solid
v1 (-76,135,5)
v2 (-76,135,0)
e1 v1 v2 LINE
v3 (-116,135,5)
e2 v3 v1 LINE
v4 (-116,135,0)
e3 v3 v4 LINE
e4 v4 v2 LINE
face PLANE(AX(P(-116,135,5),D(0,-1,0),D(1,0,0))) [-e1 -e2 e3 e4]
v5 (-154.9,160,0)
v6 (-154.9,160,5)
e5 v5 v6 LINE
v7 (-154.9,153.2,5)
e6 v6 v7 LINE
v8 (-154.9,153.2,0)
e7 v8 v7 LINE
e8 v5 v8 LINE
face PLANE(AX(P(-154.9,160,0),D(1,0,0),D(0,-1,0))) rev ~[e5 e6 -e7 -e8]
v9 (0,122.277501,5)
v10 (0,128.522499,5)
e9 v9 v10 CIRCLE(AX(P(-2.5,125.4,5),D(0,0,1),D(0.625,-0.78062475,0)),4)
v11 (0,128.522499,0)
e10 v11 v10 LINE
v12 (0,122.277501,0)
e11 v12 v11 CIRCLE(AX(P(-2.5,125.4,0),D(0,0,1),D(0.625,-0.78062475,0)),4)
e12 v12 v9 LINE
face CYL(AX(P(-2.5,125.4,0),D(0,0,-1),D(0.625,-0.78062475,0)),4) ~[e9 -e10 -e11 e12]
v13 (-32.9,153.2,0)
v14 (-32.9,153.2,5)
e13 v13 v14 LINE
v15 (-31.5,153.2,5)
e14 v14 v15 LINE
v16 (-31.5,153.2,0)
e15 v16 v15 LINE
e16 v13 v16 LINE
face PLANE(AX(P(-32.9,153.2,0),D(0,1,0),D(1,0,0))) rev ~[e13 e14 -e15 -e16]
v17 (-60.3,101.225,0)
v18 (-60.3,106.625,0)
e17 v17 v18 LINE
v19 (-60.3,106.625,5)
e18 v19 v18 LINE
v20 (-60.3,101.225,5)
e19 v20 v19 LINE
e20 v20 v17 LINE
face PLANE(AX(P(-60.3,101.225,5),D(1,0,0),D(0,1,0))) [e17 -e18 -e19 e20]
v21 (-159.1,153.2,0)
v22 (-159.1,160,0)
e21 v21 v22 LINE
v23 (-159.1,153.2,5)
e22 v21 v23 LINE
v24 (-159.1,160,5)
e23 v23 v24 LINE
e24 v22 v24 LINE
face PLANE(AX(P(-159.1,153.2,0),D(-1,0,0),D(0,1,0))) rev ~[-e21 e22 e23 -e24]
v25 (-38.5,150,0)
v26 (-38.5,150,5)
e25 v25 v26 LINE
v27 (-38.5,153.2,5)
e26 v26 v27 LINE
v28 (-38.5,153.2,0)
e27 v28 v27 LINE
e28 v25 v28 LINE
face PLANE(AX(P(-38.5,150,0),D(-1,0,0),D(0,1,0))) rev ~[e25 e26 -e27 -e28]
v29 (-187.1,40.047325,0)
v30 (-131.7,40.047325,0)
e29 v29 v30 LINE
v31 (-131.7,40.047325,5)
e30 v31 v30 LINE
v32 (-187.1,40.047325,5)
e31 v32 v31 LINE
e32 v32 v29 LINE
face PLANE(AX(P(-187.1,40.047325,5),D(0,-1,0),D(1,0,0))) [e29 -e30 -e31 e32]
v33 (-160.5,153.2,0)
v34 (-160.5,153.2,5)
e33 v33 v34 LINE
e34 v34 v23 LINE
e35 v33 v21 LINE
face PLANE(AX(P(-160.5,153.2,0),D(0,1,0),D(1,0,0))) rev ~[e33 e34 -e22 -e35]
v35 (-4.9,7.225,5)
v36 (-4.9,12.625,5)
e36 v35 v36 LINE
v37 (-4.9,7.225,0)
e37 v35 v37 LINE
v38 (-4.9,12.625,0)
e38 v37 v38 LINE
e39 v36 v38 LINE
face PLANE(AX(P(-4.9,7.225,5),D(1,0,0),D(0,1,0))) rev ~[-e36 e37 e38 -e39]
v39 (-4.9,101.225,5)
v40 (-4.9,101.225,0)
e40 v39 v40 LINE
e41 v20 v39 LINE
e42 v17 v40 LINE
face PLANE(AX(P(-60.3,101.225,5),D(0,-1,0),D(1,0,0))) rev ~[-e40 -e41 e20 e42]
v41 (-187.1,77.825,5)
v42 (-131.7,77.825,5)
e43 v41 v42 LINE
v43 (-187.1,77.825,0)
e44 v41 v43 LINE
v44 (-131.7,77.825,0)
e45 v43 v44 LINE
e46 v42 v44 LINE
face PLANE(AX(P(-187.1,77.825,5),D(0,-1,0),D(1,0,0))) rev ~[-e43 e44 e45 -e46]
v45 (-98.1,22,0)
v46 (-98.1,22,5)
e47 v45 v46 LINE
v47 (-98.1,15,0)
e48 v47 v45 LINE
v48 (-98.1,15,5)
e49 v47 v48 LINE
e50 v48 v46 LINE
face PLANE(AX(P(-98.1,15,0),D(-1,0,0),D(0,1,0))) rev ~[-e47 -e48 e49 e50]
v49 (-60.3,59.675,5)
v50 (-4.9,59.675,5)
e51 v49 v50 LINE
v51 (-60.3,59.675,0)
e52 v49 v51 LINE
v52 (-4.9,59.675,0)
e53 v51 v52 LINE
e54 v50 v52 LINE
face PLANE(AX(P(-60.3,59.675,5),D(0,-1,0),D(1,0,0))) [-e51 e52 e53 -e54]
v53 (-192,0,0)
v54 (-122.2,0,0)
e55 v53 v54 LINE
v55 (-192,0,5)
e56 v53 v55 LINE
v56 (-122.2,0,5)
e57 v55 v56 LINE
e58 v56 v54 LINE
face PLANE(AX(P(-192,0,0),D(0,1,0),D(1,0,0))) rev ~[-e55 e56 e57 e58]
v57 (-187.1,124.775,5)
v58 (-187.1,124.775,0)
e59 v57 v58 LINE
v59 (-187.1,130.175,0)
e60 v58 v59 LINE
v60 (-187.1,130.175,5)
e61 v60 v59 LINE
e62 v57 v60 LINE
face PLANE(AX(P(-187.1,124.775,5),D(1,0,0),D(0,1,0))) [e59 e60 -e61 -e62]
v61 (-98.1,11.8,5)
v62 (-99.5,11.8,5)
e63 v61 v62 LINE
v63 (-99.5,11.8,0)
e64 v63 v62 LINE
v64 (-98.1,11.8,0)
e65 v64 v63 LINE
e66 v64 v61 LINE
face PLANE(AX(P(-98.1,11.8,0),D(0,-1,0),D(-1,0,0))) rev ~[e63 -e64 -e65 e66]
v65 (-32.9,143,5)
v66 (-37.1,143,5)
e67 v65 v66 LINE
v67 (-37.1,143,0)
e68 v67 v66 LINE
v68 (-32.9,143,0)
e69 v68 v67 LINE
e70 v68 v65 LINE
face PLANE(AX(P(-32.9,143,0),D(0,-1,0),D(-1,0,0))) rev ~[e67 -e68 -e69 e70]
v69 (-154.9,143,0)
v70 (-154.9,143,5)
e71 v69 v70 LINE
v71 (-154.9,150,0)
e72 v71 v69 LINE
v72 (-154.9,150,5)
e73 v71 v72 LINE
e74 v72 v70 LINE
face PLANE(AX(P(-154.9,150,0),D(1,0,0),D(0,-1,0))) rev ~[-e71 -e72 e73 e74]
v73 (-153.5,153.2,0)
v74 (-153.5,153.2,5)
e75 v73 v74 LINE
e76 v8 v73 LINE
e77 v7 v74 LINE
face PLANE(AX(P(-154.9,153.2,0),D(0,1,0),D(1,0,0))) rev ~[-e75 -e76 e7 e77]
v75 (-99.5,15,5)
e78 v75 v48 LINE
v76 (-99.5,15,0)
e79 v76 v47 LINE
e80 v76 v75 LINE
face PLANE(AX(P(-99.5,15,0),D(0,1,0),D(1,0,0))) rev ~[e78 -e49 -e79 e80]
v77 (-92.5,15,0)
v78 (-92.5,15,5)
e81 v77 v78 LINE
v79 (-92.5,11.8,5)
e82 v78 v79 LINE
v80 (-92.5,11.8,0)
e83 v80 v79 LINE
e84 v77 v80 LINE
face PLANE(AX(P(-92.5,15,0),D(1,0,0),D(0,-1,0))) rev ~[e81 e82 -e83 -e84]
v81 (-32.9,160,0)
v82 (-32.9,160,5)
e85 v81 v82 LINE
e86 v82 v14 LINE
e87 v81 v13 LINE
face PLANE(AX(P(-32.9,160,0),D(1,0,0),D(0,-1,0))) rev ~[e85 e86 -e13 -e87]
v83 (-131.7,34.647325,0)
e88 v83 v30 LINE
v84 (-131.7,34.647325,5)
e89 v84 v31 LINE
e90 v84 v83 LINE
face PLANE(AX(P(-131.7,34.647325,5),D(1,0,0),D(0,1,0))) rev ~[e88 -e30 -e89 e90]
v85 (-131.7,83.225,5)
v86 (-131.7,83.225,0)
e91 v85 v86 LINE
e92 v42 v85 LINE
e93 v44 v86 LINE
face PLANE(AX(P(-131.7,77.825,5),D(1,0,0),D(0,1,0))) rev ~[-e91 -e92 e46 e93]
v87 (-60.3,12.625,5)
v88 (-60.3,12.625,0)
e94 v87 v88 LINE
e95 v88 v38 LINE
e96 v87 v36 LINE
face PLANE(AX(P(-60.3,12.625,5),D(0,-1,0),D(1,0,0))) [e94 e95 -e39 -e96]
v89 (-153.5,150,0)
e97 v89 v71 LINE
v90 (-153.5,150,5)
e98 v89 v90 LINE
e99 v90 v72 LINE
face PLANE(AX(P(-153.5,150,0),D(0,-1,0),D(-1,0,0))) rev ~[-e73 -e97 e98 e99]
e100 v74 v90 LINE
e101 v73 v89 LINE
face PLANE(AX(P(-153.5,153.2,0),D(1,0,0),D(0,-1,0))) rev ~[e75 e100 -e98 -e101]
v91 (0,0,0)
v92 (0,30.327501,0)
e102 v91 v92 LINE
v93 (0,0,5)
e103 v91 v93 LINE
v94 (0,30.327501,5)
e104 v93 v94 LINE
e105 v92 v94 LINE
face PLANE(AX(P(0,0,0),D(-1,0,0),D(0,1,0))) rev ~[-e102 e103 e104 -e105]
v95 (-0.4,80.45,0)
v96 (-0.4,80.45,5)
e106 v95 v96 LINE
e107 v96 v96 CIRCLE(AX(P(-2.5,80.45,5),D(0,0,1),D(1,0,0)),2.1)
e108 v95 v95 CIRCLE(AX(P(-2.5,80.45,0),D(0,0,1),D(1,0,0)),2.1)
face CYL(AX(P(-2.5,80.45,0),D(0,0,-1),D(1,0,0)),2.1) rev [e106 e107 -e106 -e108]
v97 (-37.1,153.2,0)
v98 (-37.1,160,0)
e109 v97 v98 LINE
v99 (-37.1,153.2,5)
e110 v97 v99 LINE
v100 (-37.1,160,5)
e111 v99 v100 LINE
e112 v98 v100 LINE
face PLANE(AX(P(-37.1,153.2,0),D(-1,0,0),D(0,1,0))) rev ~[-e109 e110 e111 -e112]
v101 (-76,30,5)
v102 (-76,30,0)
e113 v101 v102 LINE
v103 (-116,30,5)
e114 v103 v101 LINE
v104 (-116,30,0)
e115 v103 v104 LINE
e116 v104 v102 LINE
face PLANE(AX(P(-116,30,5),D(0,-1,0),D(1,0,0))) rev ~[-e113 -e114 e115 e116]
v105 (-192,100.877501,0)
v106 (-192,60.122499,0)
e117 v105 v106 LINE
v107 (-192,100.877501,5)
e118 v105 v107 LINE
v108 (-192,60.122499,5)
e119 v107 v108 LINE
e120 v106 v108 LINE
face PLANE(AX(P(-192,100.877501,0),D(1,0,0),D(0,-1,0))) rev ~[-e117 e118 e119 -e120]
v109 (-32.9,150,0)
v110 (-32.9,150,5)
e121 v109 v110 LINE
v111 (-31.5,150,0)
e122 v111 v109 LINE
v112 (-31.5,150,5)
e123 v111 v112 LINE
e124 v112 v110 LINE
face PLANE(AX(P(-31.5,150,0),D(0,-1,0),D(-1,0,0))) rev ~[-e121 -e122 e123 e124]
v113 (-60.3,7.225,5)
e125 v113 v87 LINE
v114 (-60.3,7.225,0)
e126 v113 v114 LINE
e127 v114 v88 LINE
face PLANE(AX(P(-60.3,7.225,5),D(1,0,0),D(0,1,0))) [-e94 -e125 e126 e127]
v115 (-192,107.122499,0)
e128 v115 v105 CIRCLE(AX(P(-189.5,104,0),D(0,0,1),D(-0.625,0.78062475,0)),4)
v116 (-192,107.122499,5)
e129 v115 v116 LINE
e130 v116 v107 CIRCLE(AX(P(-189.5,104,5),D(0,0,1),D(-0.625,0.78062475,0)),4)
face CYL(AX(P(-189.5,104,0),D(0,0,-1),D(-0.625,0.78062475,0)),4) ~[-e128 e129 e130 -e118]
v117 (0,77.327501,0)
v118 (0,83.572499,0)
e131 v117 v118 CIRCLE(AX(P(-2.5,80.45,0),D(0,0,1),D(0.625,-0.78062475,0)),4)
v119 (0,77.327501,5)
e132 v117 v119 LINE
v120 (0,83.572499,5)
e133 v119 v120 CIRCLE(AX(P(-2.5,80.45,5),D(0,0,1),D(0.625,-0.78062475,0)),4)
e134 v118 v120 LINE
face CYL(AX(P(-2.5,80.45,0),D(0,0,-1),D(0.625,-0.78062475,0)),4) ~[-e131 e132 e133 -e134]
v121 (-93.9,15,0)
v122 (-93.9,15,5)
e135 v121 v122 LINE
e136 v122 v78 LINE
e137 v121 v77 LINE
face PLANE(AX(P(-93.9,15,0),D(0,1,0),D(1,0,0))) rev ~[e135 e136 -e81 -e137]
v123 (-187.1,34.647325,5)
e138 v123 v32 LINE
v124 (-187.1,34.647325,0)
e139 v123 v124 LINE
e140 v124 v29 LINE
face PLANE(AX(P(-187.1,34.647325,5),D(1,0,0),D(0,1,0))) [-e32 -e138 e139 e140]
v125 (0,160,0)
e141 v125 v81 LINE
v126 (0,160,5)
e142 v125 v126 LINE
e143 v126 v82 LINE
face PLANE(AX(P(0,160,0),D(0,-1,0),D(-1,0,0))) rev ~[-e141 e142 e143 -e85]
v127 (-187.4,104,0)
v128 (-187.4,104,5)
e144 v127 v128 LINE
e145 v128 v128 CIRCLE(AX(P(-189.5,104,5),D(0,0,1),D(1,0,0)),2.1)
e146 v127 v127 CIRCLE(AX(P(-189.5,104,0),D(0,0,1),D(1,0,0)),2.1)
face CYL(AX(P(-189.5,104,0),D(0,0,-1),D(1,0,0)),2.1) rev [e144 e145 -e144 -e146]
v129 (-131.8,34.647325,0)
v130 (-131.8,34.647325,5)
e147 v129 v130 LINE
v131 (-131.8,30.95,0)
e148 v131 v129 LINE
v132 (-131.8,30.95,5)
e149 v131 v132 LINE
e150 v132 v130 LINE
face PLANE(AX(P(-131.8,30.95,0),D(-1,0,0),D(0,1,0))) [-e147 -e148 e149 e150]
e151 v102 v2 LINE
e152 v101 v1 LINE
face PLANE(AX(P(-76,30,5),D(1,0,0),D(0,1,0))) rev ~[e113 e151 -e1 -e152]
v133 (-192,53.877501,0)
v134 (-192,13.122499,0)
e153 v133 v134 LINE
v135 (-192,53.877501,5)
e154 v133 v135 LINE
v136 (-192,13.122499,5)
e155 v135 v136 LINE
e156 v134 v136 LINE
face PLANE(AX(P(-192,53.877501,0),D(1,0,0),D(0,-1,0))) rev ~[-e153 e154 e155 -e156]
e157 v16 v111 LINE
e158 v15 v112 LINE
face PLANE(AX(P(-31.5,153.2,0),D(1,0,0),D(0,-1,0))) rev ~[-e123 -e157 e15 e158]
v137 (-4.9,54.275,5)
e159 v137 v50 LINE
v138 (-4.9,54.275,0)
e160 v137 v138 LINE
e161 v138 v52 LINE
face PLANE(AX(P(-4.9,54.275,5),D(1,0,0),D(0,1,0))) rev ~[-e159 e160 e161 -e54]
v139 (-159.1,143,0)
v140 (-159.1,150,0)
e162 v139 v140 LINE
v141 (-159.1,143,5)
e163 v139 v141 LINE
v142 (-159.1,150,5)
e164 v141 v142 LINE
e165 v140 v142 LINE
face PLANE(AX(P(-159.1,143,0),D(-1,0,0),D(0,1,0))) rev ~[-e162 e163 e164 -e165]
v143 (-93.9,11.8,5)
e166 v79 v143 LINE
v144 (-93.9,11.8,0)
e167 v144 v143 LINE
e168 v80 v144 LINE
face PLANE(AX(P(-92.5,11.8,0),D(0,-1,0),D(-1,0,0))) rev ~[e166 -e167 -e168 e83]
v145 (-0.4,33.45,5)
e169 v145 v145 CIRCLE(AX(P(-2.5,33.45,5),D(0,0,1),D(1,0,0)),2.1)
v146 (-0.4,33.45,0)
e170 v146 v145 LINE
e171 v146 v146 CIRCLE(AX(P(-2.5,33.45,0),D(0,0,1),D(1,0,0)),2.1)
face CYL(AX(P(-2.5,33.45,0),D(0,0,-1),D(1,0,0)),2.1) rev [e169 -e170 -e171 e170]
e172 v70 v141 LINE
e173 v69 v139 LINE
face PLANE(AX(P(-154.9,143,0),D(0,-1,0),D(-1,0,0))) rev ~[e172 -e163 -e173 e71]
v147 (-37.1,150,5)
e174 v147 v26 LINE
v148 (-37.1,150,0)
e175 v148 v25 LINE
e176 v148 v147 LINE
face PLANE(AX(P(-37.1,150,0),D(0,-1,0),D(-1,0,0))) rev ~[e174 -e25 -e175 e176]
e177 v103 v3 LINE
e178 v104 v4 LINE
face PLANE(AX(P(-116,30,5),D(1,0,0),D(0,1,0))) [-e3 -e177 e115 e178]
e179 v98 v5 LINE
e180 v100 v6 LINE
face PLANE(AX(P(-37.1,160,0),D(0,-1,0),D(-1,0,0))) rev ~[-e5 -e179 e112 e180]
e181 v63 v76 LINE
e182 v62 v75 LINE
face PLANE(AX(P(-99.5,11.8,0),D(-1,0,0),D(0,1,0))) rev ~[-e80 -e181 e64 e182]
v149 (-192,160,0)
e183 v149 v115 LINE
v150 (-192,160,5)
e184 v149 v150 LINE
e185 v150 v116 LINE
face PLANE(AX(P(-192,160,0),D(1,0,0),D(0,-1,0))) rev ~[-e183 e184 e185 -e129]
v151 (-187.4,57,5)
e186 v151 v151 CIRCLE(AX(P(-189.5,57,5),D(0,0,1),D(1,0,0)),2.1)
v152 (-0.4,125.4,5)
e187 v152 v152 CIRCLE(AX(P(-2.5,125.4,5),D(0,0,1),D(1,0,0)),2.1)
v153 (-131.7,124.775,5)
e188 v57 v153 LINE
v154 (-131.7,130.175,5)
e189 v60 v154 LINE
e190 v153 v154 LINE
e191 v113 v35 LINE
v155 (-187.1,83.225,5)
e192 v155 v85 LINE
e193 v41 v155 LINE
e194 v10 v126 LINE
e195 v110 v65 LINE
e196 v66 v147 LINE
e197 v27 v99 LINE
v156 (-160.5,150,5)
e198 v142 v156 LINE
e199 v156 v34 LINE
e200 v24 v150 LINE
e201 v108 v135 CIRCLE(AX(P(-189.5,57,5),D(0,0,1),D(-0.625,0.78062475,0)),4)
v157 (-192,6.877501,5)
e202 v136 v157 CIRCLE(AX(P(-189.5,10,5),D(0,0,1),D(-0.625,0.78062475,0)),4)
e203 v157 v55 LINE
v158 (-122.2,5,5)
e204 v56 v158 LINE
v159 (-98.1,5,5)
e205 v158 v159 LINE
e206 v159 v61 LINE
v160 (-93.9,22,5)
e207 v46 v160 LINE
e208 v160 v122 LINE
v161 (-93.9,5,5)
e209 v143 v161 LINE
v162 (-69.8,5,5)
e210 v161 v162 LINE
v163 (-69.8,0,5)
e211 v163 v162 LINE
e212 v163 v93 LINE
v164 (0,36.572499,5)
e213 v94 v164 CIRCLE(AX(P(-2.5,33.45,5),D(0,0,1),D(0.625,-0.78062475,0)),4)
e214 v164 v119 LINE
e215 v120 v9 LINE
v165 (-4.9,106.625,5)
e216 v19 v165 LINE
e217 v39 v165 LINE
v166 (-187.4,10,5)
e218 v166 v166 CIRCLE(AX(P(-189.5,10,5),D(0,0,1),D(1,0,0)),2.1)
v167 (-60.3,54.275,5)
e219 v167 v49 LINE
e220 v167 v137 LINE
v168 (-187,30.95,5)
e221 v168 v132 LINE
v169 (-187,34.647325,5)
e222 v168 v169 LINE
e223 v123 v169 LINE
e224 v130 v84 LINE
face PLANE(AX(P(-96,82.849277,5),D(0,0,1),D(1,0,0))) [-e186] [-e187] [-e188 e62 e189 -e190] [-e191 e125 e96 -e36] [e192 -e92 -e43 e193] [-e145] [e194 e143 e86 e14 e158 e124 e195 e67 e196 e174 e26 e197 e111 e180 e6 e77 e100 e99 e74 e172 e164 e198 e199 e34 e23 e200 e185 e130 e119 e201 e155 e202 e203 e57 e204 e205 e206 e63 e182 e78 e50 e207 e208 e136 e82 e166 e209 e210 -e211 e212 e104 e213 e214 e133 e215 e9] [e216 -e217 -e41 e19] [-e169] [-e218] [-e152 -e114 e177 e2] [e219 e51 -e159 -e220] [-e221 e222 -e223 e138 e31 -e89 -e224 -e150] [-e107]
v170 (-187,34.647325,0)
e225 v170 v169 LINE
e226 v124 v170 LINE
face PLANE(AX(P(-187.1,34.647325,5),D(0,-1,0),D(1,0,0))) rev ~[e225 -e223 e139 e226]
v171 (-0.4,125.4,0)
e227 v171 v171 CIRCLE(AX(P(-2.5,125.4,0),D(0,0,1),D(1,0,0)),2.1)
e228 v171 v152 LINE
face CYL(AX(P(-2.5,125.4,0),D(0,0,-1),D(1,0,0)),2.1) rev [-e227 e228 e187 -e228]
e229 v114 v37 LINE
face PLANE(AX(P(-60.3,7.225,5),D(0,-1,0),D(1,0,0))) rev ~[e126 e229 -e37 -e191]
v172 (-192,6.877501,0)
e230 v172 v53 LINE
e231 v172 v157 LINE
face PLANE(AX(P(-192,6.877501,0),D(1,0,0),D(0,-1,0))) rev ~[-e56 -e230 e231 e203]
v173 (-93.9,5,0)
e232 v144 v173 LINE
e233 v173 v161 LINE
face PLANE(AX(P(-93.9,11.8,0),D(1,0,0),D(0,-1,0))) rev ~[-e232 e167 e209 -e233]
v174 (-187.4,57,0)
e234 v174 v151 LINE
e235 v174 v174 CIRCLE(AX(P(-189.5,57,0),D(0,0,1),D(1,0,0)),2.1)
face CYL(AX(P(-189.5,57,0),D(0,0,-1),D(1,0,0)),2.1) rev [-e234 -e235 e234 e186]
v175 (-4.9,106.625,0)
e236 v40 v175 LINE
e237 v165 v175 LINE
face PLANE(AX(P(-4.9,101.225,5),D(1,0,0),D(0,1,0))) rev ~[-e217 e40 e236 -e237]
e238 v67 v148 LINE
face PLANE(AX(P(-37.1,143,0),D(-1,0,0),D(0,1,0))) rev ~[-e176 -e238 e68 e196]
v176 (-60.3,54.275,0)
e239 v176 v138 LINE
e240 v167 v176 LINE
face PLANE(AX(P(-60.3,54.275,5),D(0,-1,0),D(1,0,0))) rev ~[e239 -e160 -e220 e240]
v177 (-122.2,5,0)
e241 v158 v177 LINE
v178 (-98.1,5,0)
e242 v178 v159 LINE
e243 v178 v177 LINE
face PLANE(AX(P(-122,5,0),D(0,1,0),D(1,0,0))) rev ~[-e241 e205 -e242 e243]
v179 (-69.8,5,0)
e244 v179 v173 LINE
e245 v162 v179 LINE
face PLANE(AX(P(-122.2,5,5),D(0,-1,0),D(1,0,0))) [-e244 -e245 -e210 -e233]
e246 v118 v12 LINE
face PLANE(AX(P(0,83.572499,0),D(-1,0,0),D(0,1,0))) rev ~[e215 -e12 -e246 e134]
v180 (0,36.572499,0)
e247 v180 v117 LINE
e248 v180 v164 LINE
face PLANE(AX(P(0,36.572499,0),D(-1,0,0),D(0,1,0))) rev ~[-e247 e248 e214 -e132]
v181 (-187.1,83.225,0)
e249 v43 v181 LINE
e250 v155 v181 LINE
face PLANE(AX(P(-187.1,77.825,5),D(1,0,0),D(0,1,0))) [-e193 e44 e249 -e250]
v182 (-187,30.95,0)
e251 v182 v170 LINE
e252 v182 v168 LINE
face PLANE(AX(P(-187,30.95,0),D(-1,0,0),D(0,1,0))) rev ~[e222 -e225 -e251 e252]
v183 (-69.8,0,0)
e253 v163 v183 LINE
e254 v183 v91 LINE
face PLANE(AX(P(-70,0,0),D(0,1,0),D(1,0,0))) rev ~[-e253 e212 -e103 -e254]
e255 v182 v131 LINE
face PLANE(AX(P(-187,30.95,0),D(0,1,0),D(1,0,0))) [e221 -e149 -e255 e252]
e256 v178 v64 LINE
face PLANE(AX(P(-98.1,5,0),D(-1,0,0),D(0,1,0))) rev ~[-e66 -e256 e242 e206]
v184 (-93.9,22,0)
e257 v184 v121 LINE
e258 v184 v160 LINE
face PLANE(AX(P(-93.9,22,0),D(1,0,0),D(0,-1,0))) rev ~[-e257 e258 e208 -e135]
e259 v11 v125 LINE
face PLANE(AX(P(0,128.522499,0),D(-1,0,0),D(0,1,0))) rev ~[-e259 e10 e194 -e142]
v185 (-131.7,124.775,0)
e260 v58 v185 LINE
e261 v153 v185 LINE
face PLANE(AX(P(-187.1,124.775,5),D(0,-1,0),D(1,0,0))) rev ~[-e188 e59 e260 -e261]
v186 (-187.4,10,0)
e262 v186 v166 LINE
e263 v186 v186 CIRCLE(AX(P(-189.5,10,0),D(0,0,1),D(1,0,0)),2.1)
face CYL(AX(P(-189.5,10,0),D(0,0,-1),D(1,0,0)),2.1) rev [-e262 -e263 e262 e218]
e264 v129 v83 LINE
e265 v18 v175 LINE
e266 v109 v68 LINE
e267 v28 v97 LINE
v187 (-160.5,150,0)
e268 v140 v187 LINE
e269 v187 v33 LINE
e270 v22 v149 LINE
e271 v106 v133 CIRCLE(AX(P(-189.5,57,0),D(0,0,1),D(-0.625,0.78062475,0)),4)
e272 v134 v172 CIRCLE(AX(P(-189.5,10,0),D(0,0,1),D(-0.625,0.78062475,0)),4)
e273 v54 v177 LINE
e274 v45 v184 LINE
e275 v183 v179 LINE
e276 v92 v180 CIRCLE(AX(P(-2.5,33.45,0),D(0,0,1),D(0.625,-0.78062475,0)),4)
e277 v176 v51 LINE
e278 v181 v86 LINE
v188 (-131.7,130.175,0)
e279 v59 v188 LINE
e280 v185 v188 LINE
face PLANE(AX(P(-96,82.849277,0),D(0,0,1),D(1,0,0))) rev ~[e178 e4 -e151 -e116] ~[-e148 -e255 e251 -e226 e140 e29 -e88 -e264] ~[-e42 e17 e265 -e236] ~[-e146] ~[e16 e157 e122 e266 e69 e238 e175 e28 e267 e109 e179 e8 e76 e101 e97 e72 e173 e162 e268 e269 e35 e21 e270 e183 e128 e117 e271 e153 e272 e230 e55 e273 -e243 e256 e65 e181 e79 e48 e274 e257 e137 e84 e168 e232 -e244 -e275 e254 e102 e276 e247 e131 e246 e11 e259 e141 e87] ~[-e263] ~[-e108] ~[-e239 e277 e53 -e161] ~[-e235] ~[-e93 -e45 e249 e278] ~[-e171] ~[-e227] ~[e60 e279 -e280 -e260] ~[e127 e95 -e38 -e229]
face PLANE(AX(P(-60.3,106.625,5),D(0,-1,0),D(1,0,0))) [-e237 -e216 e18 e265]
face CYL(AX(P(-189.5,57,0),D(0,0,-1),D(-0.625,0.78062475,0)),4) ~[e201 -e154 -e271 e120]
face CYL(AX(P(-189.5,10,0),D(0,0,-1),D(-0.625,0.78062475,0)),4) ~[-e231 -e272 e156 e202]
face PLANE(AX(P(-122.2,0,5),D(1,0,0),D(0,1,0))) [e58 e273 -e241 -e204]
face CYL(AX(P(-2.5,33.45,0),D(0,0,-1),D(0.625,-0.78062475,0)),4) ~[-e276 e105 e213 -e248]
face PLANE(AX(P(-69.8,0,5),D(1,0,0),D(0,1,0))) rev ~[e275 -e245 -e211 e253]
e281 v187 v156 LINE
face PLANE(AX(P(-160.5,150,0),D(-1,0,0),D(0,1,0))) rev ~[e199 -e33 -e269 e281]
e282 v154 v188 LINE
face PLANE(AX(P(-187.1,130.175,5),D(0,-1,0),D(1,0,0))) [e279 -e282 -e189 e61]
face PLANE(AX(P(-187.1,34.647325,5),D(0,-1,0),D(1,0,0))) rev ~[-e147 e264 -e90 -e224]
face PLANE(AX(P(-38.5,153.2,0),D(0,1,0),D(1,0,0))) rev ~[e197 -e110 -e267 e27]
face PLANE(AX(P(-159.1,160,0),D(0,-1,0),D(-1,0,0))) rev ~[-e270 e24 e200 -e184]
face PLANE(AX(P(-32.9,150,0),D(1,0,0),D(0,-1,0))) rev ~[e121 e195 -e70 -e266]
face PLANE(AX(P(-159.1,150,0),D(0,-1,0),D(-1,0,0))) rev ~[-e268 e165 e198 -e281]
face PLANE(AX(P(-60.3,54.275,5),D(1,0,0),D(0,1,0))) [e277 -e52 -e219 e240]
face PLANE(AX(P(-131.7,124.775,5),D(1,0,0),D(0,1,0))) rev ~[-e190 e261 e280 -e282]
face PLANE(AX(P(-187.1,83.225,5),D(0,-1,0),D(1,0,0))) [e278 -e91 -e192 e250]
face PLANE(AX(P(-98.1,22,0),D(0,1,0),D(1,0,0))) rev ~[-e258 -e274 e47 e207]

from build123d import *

# Parameters (mm, degrees)
SKETCH1_R           = 2.1
SKETCH1_W           = 55.2
SKETCH1_H           = 5.05
BOSS_EXTRUDE1_DEPTH = 5
SKETCH2_W           = 55.4
SKETCH2_H           = 5.4
CUT_EXTRUDE1_DEPTH  = 10
SKETCH3_W           = 52.4
SKETCH3_H           = 5
CUT_EXTRUDE2_DEPTH  = 10
SKETCH4_W           = 40
SKETCH4_H           = 105
CUT_EXTRUDE3_DEPTH  = 10


with BuildPart() as part:
    # Sketch1 → Boss-Extrude1 (new body)
    with BuildSketch(Plane.XY):
        with BuildLine():
            Line((-192, 100.877501001), (-192, 60.122498999))
            ThreePointArc((-192, 60.122498999), (-193.5, 57), (-192, 53.877501001))
            Line((-192, 53.877501001), (-192, 13.122498999))
            ThreePointArc((-192, 13.122498999), (-193.5, 10), (-192, 6.877501001))
            Line((-192, 6.877501001), (-192, 0))
            Line((-192, 0), (-122, 0))
            Line((-122, 0), (-122, 5))
            Line((-122, 5), (-98.1, 5))
            Line((-98.1, 5), (-98.1, 11.8))
            Line((-98.1, 11.8), (-99.5, 11.8))
            Line((-99.5, 11.8), (-99.5, 15))
            Line((-99.5, 15), (-98.1, 15))
            Line((-98.1, 15), (-98.1, 22))
            Line((-98.1, 22), (-93.9, 22))
            Line((-93.9, 22), (-93.9, 15))
            Line((-93.9, 15), (-92.5, 15))
            Line((-92.5, 15), (-92.5, 11.8))
            Line((-92.5, 11.8), (-93.9, 11.8))
            Line((-93.9, 11.8), (-93.9, 5))
            Line((-93.9, 5), (-70, 5))
            Line((-70, 5), (-70, 0))
            Line((-70, 0), (0, 0))
            Line((0, 0), (0, 30.327501001))
            ThreePointArc((0, 30.327501001), (1.5, 33.45), (0, 36.572498999))
            Line((0, 36.572498999), (0, 77.327501001))
            ThreePointArc((0, 77.327501001), (1.5, 80.45), (0, 83.572498999))
            Line((0, 83.572498999), (0, 122.277501001))
            ThreePointArc((0, 122.277501001), (1.5, 125.4), (0, 128.522498999))
            Line((0, 128.522498999), (0, 160))
            Line((0, 160), (-32.9, 160))
            Line((-32.9, 160), (-32.9, 153.2))
            Line((-32.9, 153.2), (-31.5, 153.2))
            Line((-31.5, 153.2), (-31.5, 150))
            Line((-31.5, 150), (-32.9, 150))
            Line((-32.9, 150), (-32.9, 143))
            Line((-32.9, 143), (-37.1, 143))
            Line((-37.1, 143), (-37.1, 150))
            Line((-37.1, 150), (-38.5, 150))
            Line((-38.5, 150), (-38.5, 153.2))
            Line((-38.5, 153.2), (-37.1, 153.2))
            Line((-37.1, 153.2), (-37.1, 160))
            Line((-37.1, 160), (-154.9, 160))
            Line((-154.9, 160), (-154.9, 153.2))
            Line((-154.9, 153.2), (-153.5, 153.2))
            Line((-153.5, 153.2), (-153.5, 150))
            Line((-153.5, 150), (-154.9, 150))
            Line((-154.9, 150), (-154.9, 143))
            Line((-154.9, 143), (-159.1, 143))
            Line((-159.1, 143), (-159.1, 150))
            Line((-159.1, 150), (-160.5, 150))
            Line((-160.5, 150), (-160.5, 153.2))
            Line((-160.5, 153.2), (-159.1, 153.2))
            Line((-159.1, 153.2), (-159.1, 160))
            Line((-159.1, 160), (-192, 160))
            Line((-192, 160), (-192, 107.122498999))
            ThreePointArc((-192, 107.122498999), (-193.5, 104), (-192, 100.877501001))
        make_face()
        with Locations((-189.5, 104)):
            Circle(SKETCH1_R, mode=Mode.SUBTRACT)
        with Locations((-189.5, 57)):
            Circle(SKETCH1_R, mode=Mode.SUBTRACT)
        with Locations((-189.5, 10)):
            Circle(SKETCH1_R, mode=Mode.SUBTRACT)
        with Locations((-2.5, 125.4)):
            Circle(SKETCH1_R, mode=Mode.SUBTRACT)
        with Locations((-2.5, 80.45)):
            Circle(SKETCH1_R, mode=Mode.SUBTRACT)
        with Locations((-2.5, 33.45)):
            Circle(SKETCH1_R, mode=Mode.SUBTRACT)
        with Locations((-159.4, 127.475)):
            Rectangle(SKETCH1_W, SKETCH1_H, mode=Mode.SUBTRACT)
        with Locations((-159.4, 80.475)):
            Rectangle(SKETCH1_W, SKETCH1_H, mode=Mode.SUBTRACT)
        with Locations((-159.4, 33.475)):
            Rectangle(SKETCH1_W, SKETCH1_H, mode=Mode.SUBTRACT)
        with Locations((-32.6, 103.925)):
            Rectangle(SKETCH1_W, SKETCH1_H, mode=Mode.SUBTRACT)
        with Locations((-32.6, 56.925)):
            Rectangle(SKETCH1_W, SKETCH1_H, mode=Mode.SUBTRACT)
        with Locations((-32.6, 9.925)):
            Rectangle(SKETCH1_W, SKETCH1_H, mode=Mode.SUBTRACT)
    extrude(amount=BOSS_EXTRUDE1_DEPTH)

    # Sketch2 → Cut-Extrude1 (cut)
    with BuildSketch(Plane.XY.offset(5)):
        with Locations((-159.4, 127.475)):
            Rectangle(SKETCH2_W, SKETCH2_H)
        with Locations((-32.6, 103.925)):
            Rectangle(SKETCH2_W, SKETCH2_H)
        with Locations((-159.4, 80.525)):
            Rectangle(SKETCH2_W, SKETCH2_H)
        with Locations((-159.4, 37.347324844)):
            Rectangle(SKETCH2_W, SKETCH2_H)
        with Locations((-32.6, 56.975)):
            Rectangle(SKETCH2_W, SKETCH2_H)
        with Locations((-32.6, 9.925)):
            Rectangle(SKETCH2_W, SKETCH2_H)
    extrude(amount=-CUT_EXTRUDE1_DEPTH, mode=Mode.SUBTRACT)

    # Sketch3 → Cut-Extrude2 (cut)
    with BuildSketch(Plane.XY.offset(5)):
        with Locations((-96, 2.5)):
            Rectangle(SKETCH3_W, SKETCH3_H)
    extrude(amount=-CUT_EXTRUDE2_DEPTH, mode=Mode.SUBTRACT)

    # Sketch4 → Cut-Extrude3 (cut)
    with BuildSketch(Plane.XY.offset(5)):
        with Locations((-96, 82.5)):
            Rectangle(SKETCH4_W, SKETCH4_H)
    extrude(amount=-CUT_EXTRUDE3_DEPTH, mode=Mode.SUBTRACT)


solid = part.part
